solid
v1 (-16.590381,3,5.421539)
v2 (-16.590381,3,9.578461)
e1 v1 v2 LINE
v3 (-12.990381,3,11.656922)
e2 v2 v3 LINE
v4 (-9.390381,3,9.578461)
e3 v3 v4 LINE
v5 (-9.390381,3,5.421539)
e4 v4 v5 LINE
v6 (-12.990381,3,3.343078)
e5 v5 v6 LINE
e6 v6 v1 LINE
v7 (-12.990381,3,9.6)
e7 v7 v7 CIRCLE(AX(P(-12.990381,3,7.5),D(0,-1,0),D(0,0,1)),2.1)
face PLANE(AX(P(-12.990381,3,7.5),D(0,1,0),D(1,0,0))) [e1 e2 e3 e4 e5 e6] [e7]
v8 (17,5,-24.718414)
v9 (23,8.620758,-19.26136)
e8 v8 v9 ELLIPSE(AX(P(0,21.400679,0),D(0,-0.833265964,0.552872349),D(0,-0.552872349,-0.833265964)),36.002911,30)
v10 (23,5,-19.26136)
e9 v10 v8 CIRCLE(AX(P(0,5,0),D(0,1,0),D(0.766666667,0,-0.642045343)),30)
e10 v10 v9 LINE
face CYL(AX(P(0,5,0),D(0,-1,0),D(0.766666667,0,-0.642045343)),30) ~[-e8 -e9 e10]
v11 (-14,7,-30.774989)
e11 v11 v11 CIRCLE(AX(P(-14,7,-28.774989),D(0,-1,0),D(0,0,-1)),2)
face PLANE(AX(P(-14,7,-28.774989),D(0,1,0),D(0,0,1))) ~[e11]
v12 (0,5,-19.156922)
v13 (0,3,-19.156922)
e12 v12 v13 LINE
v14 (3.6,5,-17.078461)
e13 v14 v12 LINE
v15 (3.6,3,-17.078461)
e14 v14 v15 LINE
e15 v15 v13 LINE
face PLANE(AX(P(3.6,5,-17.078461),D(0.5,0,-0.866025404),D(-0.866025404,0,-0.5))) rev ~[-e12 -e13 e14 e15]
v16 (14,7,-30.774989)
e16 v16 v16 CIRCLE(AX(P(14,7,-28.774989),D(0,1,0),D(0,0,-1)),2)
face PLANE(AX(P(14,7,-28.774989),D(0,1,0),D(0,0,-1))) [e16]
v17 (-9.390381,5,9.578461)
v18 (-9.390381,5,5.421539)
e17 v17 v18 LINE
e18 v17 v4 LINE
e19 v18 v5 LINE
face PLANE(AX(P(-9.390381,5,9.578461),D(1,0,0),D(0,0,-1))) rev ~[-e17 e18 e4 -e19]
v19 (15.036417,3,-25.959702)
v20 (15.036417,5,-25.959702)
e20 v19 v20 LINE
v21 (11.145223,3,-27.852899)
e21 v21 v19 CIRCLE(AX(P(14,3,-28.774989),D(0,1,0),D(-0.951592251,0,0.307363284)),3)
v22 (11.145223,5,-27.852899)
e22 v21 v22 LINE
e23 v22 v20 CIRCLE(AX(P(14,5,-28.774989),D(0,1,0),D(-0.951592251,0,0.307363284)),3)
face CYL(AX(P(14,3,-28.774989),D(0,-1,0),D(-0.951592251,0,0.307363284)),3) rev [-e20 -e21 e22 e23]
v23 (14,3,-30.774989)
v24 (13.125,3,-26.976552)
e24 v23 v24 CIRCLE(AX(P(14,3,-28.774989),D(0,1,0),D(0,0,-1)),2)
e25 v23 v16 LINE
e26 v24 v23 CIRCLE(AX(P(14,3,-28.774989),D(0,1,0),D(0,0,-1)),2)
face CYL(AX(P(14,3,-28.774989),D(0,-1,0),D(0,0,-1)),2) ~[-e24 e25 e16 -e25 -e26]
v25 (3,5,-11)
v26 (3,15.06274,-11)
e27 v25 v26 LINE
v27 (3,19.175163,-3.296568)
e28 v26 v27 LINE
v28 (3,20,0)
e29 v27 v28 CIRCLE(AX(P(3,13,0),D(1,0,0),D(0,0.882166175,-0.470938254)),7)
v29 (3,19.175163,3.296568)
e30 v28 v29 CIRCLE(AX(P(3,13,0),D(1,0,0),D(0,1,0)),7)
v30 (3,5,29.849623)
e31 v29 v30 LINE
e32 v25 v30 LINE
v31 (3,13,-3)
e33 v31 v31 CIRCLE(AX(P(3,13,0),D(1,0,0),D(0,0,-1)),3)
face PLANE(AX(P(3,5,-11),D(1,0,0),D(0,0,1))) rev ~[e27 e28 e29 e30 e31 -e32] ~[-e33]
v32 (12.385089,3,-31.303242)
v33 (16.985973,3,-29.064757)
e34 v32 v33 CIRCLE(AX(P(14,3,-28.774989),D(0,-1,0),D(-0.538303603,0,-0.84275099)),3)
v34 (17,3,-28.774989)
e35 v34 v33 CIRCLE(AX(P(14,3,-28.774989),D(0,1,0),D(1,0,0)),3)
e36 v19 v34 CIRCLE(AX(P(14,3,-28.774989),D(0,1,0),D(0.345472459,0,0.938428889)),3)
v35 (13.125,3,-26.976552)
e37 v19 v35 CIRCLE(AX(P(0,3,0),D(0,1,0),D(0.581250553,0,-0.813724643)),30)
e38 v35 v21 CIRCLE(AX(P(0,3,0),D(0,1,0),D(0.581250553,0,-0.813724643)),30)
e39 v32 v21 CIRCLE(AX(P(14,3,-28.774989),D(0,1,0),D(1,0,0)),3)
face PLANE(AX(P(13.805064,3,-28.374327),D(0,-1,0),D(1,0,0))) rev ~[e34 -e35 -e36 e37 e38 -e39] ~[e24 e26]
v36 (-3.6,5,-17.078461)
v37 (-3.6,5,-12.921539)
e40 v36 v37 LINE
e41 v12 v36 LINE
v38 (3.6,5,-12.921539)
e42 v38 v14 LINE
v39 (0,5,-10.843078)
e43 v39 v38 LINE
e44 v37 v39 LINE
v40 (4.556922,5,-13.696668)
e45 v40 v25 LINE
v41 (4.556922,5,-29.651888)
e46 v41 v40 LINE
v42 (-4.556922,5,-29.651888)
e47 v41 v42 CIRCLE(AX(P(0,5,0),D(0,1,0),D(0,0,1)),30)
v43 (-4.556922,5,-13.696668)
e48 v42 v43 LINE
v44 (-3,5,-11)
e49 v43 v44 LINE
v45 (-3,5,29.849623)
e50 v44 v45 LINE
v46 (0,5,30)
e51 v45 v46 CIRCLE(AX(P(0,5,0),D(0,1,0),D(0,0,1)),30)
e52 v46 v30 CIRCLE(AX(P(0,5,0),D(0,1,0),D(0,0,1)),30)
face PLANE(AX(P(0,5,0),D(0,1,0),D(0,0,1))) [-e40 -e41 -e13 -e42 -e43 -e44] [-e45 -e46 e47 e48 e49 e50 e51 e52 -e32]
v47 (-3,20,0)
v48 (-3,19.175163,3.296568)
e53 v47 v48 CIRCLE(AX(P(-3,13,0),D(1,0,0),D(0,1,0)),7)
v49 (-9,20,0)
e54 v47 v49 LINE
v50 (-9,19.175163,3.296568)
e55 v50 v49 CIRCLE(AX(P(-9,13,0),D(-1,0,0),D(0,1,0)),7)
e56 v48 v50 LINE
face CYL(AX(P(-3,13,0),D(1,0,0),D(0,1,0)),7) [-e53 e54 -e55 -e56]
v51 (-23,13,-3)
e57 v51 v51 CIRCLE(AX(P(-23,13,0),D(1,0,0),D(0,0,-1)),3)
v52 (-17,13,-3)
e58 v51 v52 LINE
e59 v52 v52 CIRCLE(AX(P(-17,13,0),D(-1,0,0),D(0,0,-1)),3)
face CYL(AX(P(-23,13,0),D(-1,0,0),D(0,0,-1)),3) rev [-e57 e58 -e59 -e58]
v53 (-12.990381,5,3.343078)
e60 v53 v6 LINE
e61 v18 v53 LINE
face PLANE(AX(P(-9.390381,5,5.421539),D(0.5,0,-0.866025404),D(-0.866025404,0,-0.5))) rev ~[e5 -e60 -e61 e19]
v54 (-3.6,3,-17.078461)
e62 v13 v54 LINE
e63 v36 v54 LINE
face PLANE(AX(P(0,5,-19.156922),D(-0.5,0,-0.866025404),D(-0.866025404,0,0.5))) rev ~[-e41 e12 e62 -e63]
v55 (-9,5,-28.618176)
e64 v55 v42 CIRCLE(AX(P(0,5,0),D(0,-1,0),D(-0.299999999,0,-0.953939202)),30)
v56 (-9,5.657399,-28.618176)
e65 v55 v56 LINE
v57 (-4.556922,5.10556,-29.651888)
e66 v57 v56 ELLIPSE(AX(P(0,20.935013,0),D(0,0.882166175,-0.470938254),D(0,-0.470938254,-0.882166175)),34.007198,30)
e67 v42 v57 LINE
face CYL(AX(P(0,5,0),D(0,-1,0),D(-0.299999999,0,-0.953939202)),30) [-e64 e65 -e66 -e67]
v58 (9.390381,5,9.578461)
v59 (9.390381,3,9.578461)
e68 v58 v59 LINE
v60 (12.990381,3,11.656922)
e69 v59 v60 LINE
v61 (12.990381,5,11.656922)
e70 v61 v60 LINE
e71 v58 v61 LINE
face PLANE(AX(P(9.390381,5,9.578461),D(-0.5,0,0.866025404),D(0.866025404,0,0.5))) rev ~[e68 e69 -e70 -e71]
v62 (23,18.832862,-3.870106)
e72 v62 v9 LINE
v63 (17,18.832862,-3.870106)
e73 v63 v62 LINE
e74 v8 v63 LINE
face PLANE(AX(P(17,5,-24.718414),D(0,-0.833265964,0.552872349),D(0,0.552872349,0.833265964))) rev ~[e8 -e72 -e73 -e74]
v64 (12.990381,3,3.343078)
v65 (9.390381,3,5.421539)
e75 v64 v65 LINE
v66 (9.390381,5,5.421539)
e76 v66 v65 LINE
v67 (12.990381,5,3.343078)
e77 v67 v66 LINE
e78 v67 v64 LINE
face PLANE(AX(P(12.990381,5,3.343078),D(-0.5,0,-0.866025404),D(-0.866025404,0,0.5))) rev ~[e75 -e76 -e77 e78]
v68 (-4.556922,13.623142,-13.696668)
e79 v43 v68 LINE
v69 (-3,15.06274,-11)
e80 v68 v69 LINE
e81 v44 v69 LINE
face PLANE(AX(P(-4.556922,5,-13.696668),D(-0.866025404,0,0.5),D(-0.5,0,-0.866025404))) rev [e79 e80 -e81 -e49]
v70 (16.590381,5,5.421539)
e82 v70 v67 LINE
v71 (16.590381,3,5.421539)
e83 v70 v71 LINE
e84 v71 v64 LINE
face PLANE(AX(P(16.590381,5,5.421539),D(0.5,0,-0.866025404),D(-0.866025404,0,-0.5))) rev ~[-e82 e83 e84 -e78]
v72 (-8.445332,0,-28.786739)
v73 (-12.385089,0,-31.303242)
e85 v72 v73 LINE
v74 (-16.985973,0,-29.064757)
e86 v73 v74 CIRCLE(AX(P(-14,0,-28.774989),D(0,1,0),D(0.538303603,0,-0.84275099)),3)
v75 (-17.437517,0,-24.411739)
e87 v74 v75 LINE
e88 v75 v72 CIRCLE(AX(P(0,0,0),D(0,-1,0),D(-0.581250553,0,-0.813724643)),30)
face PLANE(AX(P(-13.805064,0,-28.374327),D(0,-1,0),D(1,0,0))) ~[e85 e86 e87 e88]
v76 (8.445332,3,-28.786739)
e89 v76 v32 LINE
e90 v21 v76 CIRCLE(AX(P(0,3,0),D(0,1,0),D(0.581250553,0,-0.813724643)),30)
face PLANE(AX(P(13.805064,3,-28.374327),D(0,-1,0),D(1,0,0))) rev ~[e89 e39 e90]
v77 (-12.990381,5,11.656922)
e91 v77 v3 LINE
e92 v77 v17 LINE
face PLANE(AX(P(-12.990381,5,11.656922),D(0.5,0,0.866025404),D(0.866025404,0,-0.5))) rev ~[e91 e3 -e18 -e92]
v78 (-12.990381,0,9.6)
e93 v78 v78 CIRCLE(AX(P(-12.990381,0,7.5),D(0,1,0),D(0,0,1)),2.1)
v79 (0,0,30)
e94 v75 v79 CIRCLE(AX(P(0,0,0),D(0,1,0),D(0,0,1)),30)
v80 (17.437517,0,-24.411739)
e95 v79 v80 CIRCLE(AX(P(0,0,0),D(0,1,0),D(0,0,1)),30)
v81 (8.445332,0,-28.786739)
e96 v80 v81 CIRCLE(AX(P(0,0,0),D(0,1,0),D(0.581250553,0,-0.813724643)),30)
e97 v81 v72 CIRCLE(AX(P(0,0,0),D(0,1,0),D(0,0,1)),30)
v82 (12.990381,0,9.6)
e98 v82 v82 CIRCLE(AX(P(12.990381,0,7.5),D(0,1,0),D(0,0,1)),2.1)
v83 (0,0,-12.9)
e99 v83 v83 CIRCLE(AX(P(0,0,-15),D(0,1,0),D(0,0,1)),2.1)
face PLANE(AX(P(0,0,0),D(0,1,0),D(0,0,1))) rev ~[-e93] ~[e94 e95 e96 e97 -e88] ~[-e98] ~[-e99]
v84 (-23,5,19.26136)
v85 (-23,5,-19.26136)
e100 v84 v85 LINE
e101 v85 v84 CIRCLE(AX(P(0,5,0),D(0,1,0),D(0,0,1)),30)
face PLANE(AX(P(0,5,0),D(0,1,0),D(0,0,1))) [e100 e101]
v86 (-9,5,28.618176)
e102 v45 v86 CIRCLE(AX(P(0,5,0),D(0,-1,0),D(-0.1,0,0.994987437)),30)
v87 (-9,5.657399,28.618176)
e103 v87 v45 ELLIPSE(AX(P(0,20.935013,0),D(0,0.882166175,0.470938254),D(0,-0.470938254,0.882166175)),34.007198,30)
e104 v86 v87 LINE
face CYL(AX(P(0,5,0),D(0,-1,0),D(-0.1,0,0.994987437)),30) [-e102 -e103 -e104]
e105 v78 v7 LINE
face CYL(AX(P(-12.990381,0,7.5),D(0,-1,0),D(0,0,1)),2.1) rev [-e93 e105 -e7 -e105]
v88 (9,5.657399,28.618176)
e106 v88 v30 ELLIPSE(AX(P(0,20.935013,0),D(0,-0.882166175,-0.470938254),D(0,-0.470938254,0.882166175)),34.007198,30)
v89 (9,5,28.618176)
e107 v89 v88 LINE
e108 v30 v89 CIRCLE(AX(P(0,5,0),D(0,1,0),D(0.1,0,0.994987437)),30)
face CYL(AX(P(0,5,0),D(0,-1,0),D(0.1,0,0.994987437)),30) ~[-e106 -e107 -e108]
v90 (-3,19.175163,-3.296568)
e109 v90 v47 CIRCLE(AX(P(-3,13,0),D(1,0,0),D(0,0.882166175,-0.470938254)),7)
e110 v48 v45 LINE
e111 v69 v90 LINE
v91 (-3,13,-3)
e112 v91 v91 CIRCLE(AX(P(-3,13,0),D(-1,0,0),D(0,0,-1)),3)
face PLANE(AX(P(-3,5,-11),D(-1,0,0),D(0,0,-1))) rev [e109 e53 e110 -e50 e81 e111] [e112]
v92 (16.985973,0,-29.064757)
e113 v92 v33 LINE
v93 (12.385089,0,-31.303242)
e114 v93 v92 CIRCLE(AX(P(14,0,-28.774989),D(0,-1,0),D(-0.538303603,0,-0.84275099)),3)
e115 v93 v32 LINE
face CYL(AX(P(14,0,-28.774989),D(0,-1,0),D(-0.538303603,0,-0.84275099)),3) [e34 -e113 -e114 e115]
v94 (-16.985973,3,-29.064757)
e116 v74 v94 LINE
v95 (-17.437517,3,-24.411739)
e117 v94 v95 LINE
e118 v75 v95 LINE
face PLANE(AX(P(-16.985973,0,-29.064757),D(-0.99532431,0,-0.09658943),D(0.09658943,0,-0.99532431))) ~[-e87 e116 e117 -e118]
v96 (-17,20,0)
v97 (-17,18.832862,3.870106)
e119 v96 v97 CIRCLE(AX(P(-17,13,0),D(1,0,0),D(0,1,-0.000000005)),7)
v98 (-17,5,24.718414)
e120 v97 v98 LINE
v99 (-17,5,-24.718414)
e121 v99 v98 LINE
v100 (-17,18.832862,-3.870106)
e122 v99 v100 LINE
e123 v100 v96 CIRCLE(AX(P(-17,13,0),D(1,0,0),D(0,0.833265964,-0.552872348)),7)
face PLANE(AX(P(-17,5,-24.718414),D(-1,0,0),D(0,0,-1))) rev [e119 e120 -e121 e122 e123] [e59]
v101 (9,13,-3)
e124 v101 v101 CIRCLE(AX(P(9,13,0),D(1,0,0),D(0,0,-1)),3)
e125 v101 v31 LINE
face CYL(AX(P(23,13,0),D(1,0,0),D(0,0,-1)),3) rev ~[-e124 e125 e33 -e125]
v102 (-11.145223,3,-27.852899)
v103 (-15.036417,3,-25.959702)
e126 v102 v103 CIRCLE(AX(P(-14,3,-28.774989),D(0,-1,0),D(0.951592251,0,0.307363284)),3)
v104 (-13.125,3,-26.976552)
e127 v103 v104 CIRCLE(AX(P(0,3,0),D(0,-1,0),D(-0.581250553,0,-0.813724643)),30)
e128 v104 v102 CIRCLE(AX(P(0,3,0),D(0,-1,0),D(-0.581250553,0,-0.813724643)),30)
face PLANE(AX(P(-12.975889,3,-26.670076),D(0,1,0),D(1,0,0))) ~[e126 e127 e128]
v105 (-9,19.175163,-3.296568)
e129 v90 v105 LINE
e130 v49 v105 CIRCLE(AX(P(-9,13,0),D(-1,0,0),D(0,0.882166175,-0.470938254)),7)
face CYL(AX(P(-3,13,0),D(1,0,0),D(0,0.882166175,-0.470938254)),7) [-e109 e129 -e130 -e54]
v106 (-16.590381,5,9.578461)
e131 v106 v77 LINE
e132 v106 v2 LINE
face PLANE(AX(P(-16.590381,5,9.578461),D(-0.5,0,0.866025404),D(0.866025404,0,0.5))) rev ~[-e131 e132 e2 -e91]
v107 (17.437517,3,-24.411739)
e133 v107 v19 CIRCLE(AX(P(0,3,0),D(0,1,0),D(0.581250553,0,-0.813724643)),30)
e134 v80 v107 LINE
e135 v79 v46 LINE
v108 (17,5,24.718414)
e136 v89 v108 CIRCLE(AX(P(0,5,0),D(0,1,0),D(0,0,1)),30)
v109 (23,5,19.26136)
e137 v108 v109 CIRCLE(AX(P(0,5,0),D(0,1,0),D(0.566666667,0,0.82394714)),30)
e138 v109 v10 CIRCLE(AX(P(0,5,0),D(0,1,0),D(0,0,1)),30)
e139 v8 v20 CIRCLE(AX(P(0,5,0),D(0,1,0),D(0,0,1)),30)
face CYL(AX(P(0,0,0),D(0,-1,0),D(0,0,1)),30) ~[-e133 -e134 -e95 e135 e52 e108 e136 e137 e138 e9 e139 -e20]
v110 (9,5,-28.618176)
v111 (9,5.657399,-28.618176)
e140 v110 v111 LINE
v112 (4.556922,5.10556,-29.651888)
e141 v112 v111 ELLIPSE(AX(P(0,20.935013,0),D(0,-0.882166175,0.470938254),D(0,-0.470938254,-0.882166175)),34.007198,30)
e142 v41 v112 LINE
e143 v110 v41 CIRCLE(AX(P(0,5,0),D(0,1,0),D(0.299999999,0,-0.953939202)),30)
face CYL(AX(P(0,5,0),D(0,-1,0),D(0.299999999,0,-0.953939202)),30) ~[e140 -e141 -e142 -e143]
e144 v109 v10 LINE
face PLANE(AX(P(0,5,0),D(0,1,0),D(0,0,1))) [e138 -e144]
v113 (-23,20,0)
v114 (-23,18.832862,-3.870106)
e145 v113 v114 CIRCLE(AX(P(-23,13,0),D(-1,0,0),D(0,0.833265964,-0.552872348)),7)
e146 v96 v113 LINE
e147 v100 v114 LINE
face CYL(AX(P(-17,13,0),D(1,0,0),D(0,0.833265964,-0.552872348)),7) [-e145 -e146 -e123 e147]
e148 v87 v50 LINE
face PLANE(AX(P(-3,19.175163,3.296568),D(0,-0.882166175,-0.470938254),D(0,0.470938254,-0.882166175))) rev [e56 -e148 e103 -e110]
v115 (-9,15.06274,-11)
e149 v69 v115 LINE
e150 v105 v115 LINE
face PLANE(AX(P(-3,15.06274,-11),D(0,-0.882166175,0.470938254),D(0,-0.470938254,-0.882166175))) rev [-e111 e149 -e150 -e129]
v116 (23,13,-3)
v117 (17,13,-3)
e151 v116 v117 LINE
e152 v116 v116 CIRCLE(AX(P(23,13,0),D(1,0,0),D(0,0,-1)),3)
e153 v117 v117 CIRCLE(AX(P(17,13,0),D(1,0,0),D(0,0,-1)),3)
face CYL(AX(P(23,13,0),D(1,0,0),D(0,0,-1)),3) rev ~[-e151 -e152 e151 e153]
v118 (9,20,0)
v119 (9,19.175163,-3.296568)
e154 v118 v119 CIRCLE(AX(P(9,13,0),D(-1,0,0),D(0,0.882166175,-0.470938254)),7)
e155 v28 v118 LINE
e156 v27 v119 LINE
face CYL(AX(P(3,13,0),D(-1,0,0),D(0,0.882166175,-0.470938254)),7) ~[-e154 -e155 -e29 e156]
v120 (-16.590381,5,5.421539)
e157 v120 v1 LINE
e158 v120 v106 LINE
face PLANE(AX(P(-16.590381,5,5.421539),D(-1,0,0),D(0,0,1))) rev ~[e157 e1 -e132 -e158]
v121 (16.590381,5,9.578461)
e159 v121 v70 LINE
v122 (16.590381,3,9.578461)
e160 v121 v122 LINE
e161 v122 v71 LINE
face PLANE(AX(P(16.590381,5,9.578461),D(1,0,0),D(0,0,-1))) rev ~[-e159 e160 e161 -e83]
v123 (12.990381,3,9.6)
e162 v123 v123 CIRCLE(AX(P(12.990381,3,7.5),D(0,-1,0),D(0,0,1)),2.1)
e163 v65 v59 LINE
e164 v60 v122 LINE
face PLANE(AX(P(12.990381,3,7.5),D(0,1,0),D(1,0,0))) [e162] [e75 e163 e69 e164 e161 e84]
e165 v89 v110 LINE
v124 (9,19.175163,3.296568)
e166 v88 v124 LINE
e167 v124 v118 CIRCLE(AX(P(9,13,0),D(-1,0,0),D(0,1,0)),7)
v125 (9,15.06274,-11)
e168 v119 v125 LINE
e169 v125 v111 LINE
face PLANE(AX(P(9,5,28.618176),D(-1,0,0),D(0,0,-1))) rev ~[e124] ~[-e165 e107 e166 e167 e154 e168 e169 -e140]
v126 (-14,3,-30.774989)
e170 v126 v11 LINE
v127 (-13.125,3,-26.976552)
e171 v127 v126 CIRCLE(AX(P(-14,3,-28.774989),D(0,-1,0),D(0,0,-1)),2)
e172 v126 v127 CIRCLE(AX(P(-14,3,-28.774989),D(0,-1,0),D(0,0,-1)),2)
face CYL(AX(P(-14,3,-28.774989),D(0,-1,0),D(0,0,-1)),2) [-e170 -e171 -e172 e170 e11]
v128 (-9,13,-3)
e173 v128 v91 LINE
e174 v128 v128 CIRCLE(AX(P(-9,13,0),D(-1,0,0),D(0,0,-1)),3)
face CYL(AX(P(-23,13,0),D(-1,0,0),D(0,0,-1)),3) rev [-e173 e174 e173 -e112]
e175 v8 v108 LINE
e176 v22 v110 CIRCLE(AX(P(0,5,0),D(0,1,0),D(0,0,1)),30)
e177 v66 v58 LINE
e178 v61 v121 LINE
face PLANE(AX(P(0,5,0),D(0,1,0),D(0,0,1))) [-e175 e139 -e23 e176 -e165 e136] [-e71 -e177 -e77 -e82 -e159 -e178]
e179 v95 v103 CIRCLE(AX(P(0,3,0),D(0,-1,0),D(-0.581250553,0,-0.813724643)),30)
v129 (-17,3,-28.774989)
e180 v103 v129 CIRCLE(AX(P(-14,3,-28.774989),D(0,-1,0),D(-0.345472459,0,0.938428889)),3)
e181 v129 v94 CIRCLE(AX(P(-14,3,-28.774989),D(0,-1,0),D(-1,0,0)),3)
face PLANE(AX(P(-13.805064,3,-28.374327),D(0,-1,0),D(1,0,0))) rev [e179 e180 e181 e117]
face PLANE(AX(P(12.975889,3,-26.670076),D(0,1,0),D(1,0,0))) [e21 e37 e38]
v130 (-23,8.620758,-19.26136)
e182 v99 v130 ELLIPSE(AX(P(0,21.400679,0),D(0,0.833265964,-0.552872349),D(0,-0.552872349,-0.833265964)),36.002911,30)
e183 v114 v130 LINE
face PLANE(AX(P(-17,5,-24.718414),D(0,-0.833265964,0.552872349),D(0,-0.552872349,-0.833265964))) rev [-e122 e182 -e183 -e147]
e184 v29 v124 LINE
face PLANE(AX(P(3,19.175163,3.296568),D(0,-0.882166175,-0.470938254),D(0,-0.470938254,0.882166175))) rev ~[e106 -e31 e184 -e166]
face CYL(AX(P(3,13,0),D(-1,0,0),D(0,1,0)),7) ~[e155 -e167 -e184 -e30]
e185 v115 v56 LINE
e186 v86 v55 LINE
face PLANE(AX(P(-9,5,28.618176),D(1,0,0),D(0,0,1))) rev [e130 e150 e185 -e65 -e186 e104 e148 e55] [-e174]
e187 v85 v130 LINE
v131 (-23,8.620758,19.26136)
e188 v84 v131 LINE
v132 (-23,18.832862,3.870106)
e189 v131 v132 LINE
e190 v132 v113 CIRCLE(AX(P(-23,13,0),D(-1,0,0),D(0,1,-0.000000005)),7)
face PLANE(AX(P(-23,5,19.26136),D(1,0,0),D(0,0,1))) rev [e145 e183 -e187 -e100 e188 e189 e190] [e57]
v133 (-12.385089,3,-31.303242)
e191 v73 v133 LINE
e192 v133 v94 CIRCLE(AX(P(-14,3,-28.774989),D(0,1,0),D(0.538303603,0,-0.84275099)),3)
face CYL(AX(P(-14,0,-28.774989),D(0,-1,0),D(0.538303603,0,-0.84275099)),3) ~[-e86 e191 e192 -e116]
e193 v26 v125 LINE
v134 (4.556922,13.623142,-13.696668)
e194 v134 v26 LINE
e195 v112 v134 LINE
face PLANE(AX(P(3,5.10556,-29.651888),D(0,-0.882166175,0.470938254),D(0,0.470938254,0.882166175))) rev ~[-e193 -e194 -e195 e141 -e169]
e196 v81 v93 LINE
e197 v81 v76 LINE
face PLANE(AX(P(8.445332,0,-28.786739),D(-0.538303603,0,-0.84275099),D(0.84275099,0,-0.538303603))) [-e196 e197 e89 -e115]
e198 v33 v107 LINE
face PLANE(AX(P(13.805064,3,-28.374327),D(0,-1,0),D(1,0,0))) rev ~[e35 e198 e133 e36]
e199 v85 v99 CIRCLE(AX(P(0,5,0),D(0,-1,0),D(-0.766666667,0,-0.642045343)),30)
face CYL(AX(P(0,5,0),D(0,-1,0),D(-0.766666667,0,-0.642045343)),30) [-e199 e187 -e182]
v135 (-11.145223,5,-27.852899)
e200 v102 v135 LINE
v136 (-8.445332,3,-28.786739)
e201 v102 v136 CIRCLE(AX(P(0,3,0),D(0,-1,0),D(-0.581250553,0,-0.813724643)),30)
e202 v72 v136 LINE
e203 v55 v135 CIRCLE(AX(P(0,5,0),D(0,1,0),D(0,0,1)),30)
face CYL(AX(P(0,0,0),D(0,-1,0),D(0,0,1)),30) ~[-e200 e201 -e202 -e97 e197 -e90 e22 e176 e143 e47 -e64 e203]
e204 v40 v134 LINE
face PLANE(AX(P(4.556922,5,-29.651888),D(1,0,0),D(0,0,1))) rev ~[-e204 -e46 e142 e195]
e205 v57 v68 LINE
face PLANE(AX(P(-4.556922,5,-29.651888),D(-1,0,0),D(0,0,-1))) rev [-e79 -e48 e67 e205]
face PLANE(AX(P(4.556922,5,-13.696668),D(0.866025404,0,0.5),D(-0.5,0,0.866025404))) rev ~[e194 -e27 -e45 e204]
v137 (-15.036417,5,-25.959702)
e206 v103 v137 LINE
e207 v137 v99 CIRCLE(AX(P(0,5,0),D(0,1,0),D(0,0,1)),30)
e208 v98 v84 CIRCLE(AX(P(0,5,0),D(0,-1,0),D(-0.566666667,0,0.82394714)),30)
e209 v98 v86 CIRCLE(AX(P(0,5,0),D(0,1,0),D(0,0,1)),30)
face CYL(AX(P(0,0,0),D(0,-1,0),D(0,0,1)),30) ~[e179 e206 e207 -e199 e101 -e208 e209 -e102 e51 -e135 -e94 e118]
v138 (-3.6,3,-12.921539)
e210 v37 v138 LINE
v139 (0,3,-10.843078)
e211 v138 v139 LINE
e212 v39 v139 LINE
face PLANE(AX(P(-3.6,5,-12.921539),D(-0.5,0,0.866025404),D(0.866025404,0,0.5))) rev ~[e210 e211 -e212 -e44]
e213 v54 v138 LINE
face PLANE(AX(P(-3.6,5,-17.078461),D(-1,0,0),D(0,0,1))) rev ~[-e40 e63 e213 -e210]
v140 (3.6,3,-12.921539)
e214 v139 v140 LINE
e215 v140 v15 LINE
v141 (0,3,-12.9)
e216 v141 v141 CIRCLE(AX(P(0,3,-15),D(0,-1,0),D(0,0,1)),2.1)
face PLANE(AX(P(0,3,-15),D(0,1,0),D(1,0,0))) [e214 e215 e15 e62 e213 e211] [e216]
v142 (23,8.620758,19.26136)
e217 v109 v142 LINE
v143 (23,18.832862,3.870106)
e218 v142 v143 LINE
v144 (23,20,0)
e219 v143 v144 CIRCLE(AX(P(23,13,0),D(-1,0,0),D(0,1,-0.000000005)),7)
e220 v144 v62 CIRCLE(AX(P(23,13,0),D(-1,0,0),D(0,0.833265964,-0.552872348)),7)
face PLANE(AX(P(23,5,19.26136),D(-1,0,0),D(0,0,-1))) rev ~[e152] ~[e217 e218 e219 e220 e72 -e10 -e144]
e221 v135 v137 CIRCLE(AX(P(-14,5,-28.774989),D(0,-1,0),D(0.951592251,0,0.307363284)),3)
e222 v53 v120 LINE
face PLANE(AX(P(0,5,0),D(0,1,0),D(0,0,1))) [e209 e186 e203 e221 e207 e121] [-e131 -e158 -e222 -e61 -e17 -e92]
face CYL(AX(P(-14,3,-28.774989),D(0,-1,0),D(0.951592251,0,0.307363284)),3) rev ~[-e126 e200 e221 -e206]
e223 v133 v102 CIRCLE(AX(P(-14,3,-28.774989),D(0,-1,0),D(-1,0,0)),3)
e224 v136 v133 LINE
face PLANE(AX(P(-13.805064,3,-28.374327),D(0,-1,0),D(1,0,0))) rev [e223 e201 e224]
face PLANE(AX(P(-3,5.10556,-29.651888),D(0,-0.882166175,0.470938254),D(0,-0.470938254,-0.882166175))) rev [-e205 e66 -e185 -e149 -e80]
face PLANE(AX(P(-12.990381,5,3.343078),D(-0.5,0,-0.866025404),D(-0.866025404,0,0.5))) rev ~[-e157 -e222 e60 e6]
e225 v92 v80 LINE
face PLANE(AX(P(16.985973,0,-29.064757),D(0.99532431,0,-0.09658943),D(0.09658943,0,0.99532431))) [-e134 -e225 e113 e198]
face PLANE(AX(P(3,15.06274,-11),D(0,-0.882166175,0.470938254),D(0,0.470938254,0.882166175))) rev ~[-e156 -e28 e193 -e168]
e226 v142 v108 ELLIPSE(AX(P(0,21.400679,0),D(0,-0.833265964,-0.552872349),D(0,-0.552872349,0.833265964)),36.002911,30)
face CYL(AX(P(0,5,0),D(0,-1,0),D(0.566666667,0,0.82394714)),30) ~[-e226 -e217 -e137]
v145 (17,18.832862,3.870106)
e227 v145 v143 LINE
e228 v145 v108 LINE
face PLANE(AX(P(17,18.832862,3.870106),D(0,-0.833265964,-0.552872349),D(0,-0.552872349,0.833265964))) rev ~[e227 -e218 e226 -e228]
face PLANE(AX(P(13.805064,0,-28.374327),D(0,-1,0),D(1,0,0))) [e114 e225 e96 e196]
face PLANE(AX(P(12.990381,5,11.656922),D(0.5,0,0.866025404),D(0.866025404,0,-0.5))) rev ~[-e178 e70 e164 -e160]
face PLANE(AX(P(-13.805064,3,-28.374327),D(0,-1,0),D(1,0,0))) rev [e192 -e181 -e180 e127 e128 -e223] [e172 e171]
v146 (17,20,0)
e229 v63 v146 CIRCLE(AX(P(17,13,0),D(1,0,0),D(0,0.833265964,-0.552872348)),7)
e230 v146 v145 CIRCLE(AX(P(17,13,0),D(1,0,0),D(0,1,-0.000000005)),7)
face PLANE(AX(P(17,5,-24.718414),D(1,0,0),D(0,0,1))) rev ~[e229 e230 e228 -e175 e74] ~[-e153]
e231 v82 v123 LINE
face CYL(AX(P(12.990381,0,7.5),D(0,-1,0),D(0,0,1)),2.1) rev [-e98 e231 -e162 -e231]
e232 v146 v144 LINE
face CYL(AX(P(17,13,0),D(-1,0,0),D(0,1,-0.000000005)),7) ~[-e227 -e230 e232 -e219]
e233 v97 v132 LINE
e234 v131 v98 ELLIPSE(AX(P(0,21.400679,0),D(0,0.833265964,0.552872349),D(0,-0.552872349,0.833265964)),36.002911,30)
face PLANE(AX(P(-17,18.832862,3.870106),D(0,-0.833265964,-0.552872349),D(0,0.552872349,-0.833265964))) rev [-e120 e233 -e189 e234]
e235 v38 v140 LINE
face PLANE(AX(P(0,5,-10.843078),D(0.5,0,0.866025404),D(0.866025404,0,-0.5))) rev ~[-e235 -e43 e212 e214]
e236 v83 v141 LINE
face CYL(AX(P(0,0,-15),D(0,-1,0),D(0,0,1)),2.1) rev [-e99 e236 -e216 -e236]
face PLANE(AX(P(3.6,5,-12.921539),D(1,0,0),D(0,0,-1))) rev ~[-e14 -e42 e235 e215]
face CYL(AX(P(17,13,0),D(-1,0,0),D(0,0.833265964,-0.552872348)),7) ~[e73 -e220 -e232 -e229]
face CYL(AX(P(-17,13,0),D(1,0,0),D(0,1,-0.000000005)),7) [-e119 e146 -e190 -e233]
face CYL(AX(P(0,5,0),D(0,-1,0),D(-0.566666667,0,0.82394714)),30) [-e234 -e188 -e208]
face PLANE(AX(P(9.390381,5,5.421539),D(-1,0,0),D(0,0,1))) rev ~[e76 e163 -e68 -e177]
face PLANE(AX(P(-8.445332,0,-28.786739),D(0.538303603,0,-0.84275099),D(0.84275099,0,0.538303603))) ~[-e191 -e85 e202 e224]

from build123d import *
from build123d.topology import SkipClean

# Parameters (mm, degrees)
SKETCH1_R           = 30
SKETCH1_R_2         = 2.1
BOSS_EXTRUDE1_DEPTH = 5
CUT_EXTRUDE2_DEPTH  = 2
BOSS_EXTRUDE5_DEPTH = 15
SKETCH8_R           = 3
CUT_EXTRUDE3_DEPTH  = 65.101482042
CUT_EXTRUDE4_REACH  = 50.877
CUT_EXTRUDE5_REACH  = 61.237
BOSS_EXTRUDE8_DEPTH = 3
CUT_EXTRUDE8_START  = -2
CUT_EXTRUDE8_DEPTH  = 2
SKETCH14_R          = 2
BOSS_EXTRUDE9_DEPTH = 4


with BuildPart() as part:
    # Sketch1 → Boss-Extrude1 (new body)
    with BuildSketch(Plane(origin=(0, 0, 0), x_dir=(1, 0, 0), z_dir=(0, 1, 0))):
        with Locations(Location((0, 0, 0), (0, 0, 270))):
            Circle(SKETCH1_R)
        with Locations(Location((0, 15, 0), (0, 0, 270))):
            Circle(SKETCH1_R_2, mode=Mode.SUBTRACT)
        with Locations(Location((12.990381057, -7.5, 0), (0, 0, 270))):
            Circle(SKETCH1_R_2, mode=Mode.SUBTRACT)
        with Locations(Location((-12.990381057, -7.5, 0), (0, 0, 270))):
            Circle(SKETCH1_R_2, mode=Mode.SUBTRACT)
    extrude(amount=BOSS_EXTRUDE1_DEPTH)

    # Sketch7 → Cut-Extrude2 (cut)
    with BuildSketch(Plane(origin=(0, 5, 0), x_dir=(1, 0, 0), z_dir=(0, 1, 0))):
        Polygon((0, 19.156921938), (-3.6, 17.078460969), (-3.6, 12.921539031), (0, 10.843078062), (3.6, 12.921539031), (3.6, 17.078460969), align=None)
        Polygon((12.990381057, -3.343078062), (9.390381057, -5.421539031), (9.390381057, -9.578460969), (12.990381057, -11.656921938), (16.590381057, -9.578460969), (16.590381057, -5.421539031), align=None)
        Polygon((-12.990381057, -3.343078062), (-16.590381057, -5.421539031), (-16.590381057, -9.578460969), (-12.990381057, -11.656921938), (-9.390381057, -9.578460969), (-9.390381057, -5.421539031), align=None)
    extrude(amount=-CUT_EXTRUDE2_DEPTH, mode=Mode.SUBTRACT)

    # Sketch2 → Boss-Extrude5 (add)
    with BuildSketch(Plane(origin=(0, 5, 0), x_dir=(1, 0, 0), z_dir=(0, 1, 0))):
        with BuildLine():
            Line((23, -19.261360284), (23, 19.261360284))
            ThreePointArc((23, 19.261360284), (20.18526342, 22.193583322), (17, 24.718414189))
            Line((17, 24.718414189), (17, -24.718414189))
            ThreePointArc((17, -24.718414189), (20.18526342, -22.193583322), (23, -19.261360284))
        make_face()
        with BuildLine():
            Line((9, -28.618176043), (9, 28.618176043))
            ThreePointArc((9, 28.618176043), (6.798137481, 29.219605178), (4.556921938, 29.651888008))
            Line((4.556921938, 29.651888008), (4.556921938, 13.6966679))
            Line((4.556921938, 13.6966679), (3, 11))
            Line((3, 11), (3, -29.849623113))
            ThreePointArc((3, -29.849623113), (6.031510215, -29.387427321), (9, -28.618176043))
        make_face()
    boss_extrude5 = extrude(amount=BOSS_EXTRUDE5_DEPTH)

    # Sketch8 → Cut-Extrude3 (cut, through all)
    with BuildSketch(Plane(origin=(23, 0, 0), x_dir=(0, 0, -1), z_dir=(1, 0, 0))):
        with Locations((0, 13)):
            Circle(SKETCH8_R)
    cut_extrude3 = extrude(amount=-CUT_EXTRUDE3_DEPTH, mode=Mode.SUBTRACT)

    # Sketch9 → Cut-Extrude4 (cut, up to next)
    with BuildSketch(Plane.ZY.offset(-3), mode=Mode.PRIVATE) as cut_extrude4_sk1:
        Polygon((-29.651888008, 20), (-29.651888008, 5.105559505), (-11, 15.062739712), (-11, 20), (-13.6966679, 20), align=None)
    cut_extrude4_tool1 = extrude(cut_extrude4_sk1.sketch, amount=-CUT_EXTRUDE4_REACH, mode=Mode.PRIVATE) & part.part
    # Sketch9 → Cut-Extrude4 (cut, up to next)
    with BuildSketch(Plane.ZY.offset(-3), mode=Mode.PRIVATE) as cut_extrude4_sk2:
        with BuildLine():
            Line((-11, 20), (-11, 15.062739712))
            Line((-11, 15.062739712), (-3.29656778, 19.175163226))
            ThreePointArc((-3.29656778, 19.175163226), (-1.699096439, 19.790660593), (0, 20))
            Line((0, 20), (-11, 20))
        make_face()
    cut_extrude4_tool2 = extrude(cut_extrude4_sk2.sketch, amount=-CUT_EXTRUDE4_REACH, mode=Mode.PRIVATE) & part.part
    # Sketch9 → Cut-Extrude4 (cut, up to next)
    with BuildSketch(Plane.ZY.offset(-3), mode=Mode.PRIVATE) as cut_extrude4_sk3:
        with BuildLine():
            Line((29.849623113, 20), (0, 20))
            ThreePointArc((0, 20), (1.699096439, 19.790660593), (3.29656778, 19.175163226))
            Line((3.29656778, 19.175163226), (29.849623113, 5))
            Line((29.849623113, 5), (29.849623113, 20))
        make_face()
    cut_extrude4_tool3 = extrude(cut_extrude4_sk3.sketch, amount=-CUT_EXTRUDE4_REACH, mode=Mode.PRIVATE) & part.part
    cut_extrude4_1 = cut_extrude4_tool1.solids().sort_by_distance((3, 14.625463, -21.886747))[0]
    add(cut_extrude4_1, mode=Mode.SUBTRACT)
    cut_extrude4_2 = cut_extrude4_tool2.solids().sort_by_distance((3, 18.370055, -7.850815))[0]
    add(cut_extrude4_2, mode=Mode.SUBTRACT)
    cut_extrude4_3 = cut_extrude4_tool3.solids().sort_by_distance((3, 15.00565, 20.461626))[0]
    add(cut_extrude4_3, mode=Mode.SUBTRACT)
    cut_extrude4 = cut_extrude4_1 + cut_extrude4_2 + cut_extrude4_3  # Cut-Extrude4 as one shape, for the pattern or mirror that repeats it

    # Sketch10 → Cut-Extrude5 (cut, up to next)
    with BuildSketch(Plane.ZY.offset(-17), mode=Mode.PRIVATE) as cut_extrude5_sk1:
        with BuildLine():
            Line((-24.718414189, 20), (-24.718414189, 5))
            Line((-24.718414189, 5), (-3.870106441, 18.832861745))
            ThreePointArc((-3.870106441, 18.832861745), (-2.021134326, 19.701866608), (-3.6e-08, 20))
            Line((-3.6e-08, 20), (-24.718414189, 20))
        make_face()
    cut_extrude5_tool1 = extrude(cut_extrude5_sk1.sketch, amount=-CUT_EXTRUDE5_REACH, mode=Mode.PRIVATE) & part.part
    # Sketch10 → Cut-Extrude5 (cut, up to next)
    with BuildSketch(Plane.ZY.offset(-17), mode=Mode.PRIVATE) as cut_extrude5_sk2:
        with BuildLine():
            Line((3.870106441, 18.832861745), (24.718414189, 5))
            Line((24.718414189, 5), (24.718414189, 20))
            Line((24.718414189, 20), (-3.6e-08, 20))
            ThreePointArc((-3.6e-08, 20), (2.021134291, 19.701866619), (3.870106441, 18.832861745))
        make_face()
    cut_extrude5_tool2 = extrude(cut_extrude5_sk2.sketch, amount=-CUT_EXTRUDE5_REACH, mode=Mode.PRIVATE) & part.part
    cut_extrude5_1 = cut_extrude5_tool1.solids().sort_by_distance((17, 15.01191, -17.14476))[0]
    add(cut_extrude5_1, mode=Mode.SUBTRACT)
    cut_extrude5_2 = cut_extrude5_tool2.solids().sort_by_distance((17, 15.01191, 17.14476))[0]
    add(cut_extrude5_2, mode=Mode.SUBTRACT)
    cut_extrude5 = cut_extrude5_1 + cut_extrude5_2  # Cut-Extrude5 as one shape, for the pattern or mirror that repeats it

    # Mirror1: Boss-Extrude5, Cut-Extrude3, Cut-Extrude4, Cut-Extrude5 across plane
    with SkipClean():  # the faces are left unmerged after this step: merging them gives an invalid solid
        add(boss_extrude5.mirror(Plane.ZY))
        add(cut_extrude3.mirror(Plane.ZY), mode=Mode.SUBTRACT)
        add(cut_extrude4.mirror(Plane.ZY), mode=Mode.SUBTRACT)
        add(cut_extrude5.mirror(Plane.ZY), mode=Mode.SUBTRACT)

    # Sketch13 → Boss-Extrude8 (add)
    with SkipClean():  # the faces are left unmerged after this step: merging them gives an invalid solid
        with BuildSketch(Plane.XZ):
            with BuildLine():
                ThreePointArc((12.385089192, -31.30324211), (15.3125, -31.472644372), (16.98597293, -29.064757431))
                Line((16.98597293, -29.064757431), (17.437516579, -24.411739298))
                ThreePointArc((17.437516579, -24.411739298), (13.125, -26.976552319), (8.445332472, -28.786739298))
                Line((8.445332472, -28.786739298), (12.385089192, -31.30324211))
            make_face()
        boss_extrude8 = extrude(amount=-BOSS_EXTRUDE8_DEPTH)

    # Sketch15 → Cut-Extrude8 (cut)
    with SkipClean():  # the faces are left unmerged after this step: merging them gives an invalid solid
        with BuildSketch(Plane(origin=(0, 5, 0), x_dir=(1, 0, 0), z_dir=(0, 1, 0)).offset(CUT_EXTRUDE8_START)):
            with BuildLine():
                ThreePointArc((15.036417377, 25.959702472), (13.125, 26.976552319), (11.145223248, 27.852899288))
                ThreePointArc((11.145223248, 27.852899288), (12.6875, 26.077333908), (15.036417377, 25.959702472))
            make_face()
            with BuildLine():
                ThreePointArc((17, 28.77498914), (13.533272165, 31.738460943), (11.145223248, 27.852899288))
                ThreePointArc((11.145223248, 27.852899288), (13.125, 26.976552319), (15.036417377, 25.959702472))
                ThreePointArc((15.036417377, 25.959702472), (16.460614977, 27.058779964), (17, 28.77498914))
            make_face()
        cut_extrude8 = extrude(amount=CUT_EXTRUDE8_DEPTH, mode=Mode.SUBTRACT)

    # Sketch14 → Boss-Extrude9 (add)
    with SkipClean():  # the faces are left unmerged after this step: merging them gives an invalid solid
        with BuildSketch(Plane(origin=(0, 3, 0), x_dir=(1, 0, 0), z_dir=(0, 1, 0))):
            with Locations(Location((14, 28.77498914, 0), (0, 0, 90))):
                Circle(SKETCH14_R)
        boss_extrude9 = extrude(amount=BOSS_EXTRUDE9_DEPTH)

    # Mirror2: Boss-Extrude8, Cut-Extrude8, Boss-Extrude9 across plane
    with SkipClean():  # the faces are left unmerged after this step: merging them gives an invalid solid
        add(boss_extrude8.mirror(Plane.ZY))
        add(cut_extrude8.mirror(Plane.ZY), mode=Mode.SUBTRACT)
        add(boss_extrude9.mirror(Plane.ZY))


solid = part.part
